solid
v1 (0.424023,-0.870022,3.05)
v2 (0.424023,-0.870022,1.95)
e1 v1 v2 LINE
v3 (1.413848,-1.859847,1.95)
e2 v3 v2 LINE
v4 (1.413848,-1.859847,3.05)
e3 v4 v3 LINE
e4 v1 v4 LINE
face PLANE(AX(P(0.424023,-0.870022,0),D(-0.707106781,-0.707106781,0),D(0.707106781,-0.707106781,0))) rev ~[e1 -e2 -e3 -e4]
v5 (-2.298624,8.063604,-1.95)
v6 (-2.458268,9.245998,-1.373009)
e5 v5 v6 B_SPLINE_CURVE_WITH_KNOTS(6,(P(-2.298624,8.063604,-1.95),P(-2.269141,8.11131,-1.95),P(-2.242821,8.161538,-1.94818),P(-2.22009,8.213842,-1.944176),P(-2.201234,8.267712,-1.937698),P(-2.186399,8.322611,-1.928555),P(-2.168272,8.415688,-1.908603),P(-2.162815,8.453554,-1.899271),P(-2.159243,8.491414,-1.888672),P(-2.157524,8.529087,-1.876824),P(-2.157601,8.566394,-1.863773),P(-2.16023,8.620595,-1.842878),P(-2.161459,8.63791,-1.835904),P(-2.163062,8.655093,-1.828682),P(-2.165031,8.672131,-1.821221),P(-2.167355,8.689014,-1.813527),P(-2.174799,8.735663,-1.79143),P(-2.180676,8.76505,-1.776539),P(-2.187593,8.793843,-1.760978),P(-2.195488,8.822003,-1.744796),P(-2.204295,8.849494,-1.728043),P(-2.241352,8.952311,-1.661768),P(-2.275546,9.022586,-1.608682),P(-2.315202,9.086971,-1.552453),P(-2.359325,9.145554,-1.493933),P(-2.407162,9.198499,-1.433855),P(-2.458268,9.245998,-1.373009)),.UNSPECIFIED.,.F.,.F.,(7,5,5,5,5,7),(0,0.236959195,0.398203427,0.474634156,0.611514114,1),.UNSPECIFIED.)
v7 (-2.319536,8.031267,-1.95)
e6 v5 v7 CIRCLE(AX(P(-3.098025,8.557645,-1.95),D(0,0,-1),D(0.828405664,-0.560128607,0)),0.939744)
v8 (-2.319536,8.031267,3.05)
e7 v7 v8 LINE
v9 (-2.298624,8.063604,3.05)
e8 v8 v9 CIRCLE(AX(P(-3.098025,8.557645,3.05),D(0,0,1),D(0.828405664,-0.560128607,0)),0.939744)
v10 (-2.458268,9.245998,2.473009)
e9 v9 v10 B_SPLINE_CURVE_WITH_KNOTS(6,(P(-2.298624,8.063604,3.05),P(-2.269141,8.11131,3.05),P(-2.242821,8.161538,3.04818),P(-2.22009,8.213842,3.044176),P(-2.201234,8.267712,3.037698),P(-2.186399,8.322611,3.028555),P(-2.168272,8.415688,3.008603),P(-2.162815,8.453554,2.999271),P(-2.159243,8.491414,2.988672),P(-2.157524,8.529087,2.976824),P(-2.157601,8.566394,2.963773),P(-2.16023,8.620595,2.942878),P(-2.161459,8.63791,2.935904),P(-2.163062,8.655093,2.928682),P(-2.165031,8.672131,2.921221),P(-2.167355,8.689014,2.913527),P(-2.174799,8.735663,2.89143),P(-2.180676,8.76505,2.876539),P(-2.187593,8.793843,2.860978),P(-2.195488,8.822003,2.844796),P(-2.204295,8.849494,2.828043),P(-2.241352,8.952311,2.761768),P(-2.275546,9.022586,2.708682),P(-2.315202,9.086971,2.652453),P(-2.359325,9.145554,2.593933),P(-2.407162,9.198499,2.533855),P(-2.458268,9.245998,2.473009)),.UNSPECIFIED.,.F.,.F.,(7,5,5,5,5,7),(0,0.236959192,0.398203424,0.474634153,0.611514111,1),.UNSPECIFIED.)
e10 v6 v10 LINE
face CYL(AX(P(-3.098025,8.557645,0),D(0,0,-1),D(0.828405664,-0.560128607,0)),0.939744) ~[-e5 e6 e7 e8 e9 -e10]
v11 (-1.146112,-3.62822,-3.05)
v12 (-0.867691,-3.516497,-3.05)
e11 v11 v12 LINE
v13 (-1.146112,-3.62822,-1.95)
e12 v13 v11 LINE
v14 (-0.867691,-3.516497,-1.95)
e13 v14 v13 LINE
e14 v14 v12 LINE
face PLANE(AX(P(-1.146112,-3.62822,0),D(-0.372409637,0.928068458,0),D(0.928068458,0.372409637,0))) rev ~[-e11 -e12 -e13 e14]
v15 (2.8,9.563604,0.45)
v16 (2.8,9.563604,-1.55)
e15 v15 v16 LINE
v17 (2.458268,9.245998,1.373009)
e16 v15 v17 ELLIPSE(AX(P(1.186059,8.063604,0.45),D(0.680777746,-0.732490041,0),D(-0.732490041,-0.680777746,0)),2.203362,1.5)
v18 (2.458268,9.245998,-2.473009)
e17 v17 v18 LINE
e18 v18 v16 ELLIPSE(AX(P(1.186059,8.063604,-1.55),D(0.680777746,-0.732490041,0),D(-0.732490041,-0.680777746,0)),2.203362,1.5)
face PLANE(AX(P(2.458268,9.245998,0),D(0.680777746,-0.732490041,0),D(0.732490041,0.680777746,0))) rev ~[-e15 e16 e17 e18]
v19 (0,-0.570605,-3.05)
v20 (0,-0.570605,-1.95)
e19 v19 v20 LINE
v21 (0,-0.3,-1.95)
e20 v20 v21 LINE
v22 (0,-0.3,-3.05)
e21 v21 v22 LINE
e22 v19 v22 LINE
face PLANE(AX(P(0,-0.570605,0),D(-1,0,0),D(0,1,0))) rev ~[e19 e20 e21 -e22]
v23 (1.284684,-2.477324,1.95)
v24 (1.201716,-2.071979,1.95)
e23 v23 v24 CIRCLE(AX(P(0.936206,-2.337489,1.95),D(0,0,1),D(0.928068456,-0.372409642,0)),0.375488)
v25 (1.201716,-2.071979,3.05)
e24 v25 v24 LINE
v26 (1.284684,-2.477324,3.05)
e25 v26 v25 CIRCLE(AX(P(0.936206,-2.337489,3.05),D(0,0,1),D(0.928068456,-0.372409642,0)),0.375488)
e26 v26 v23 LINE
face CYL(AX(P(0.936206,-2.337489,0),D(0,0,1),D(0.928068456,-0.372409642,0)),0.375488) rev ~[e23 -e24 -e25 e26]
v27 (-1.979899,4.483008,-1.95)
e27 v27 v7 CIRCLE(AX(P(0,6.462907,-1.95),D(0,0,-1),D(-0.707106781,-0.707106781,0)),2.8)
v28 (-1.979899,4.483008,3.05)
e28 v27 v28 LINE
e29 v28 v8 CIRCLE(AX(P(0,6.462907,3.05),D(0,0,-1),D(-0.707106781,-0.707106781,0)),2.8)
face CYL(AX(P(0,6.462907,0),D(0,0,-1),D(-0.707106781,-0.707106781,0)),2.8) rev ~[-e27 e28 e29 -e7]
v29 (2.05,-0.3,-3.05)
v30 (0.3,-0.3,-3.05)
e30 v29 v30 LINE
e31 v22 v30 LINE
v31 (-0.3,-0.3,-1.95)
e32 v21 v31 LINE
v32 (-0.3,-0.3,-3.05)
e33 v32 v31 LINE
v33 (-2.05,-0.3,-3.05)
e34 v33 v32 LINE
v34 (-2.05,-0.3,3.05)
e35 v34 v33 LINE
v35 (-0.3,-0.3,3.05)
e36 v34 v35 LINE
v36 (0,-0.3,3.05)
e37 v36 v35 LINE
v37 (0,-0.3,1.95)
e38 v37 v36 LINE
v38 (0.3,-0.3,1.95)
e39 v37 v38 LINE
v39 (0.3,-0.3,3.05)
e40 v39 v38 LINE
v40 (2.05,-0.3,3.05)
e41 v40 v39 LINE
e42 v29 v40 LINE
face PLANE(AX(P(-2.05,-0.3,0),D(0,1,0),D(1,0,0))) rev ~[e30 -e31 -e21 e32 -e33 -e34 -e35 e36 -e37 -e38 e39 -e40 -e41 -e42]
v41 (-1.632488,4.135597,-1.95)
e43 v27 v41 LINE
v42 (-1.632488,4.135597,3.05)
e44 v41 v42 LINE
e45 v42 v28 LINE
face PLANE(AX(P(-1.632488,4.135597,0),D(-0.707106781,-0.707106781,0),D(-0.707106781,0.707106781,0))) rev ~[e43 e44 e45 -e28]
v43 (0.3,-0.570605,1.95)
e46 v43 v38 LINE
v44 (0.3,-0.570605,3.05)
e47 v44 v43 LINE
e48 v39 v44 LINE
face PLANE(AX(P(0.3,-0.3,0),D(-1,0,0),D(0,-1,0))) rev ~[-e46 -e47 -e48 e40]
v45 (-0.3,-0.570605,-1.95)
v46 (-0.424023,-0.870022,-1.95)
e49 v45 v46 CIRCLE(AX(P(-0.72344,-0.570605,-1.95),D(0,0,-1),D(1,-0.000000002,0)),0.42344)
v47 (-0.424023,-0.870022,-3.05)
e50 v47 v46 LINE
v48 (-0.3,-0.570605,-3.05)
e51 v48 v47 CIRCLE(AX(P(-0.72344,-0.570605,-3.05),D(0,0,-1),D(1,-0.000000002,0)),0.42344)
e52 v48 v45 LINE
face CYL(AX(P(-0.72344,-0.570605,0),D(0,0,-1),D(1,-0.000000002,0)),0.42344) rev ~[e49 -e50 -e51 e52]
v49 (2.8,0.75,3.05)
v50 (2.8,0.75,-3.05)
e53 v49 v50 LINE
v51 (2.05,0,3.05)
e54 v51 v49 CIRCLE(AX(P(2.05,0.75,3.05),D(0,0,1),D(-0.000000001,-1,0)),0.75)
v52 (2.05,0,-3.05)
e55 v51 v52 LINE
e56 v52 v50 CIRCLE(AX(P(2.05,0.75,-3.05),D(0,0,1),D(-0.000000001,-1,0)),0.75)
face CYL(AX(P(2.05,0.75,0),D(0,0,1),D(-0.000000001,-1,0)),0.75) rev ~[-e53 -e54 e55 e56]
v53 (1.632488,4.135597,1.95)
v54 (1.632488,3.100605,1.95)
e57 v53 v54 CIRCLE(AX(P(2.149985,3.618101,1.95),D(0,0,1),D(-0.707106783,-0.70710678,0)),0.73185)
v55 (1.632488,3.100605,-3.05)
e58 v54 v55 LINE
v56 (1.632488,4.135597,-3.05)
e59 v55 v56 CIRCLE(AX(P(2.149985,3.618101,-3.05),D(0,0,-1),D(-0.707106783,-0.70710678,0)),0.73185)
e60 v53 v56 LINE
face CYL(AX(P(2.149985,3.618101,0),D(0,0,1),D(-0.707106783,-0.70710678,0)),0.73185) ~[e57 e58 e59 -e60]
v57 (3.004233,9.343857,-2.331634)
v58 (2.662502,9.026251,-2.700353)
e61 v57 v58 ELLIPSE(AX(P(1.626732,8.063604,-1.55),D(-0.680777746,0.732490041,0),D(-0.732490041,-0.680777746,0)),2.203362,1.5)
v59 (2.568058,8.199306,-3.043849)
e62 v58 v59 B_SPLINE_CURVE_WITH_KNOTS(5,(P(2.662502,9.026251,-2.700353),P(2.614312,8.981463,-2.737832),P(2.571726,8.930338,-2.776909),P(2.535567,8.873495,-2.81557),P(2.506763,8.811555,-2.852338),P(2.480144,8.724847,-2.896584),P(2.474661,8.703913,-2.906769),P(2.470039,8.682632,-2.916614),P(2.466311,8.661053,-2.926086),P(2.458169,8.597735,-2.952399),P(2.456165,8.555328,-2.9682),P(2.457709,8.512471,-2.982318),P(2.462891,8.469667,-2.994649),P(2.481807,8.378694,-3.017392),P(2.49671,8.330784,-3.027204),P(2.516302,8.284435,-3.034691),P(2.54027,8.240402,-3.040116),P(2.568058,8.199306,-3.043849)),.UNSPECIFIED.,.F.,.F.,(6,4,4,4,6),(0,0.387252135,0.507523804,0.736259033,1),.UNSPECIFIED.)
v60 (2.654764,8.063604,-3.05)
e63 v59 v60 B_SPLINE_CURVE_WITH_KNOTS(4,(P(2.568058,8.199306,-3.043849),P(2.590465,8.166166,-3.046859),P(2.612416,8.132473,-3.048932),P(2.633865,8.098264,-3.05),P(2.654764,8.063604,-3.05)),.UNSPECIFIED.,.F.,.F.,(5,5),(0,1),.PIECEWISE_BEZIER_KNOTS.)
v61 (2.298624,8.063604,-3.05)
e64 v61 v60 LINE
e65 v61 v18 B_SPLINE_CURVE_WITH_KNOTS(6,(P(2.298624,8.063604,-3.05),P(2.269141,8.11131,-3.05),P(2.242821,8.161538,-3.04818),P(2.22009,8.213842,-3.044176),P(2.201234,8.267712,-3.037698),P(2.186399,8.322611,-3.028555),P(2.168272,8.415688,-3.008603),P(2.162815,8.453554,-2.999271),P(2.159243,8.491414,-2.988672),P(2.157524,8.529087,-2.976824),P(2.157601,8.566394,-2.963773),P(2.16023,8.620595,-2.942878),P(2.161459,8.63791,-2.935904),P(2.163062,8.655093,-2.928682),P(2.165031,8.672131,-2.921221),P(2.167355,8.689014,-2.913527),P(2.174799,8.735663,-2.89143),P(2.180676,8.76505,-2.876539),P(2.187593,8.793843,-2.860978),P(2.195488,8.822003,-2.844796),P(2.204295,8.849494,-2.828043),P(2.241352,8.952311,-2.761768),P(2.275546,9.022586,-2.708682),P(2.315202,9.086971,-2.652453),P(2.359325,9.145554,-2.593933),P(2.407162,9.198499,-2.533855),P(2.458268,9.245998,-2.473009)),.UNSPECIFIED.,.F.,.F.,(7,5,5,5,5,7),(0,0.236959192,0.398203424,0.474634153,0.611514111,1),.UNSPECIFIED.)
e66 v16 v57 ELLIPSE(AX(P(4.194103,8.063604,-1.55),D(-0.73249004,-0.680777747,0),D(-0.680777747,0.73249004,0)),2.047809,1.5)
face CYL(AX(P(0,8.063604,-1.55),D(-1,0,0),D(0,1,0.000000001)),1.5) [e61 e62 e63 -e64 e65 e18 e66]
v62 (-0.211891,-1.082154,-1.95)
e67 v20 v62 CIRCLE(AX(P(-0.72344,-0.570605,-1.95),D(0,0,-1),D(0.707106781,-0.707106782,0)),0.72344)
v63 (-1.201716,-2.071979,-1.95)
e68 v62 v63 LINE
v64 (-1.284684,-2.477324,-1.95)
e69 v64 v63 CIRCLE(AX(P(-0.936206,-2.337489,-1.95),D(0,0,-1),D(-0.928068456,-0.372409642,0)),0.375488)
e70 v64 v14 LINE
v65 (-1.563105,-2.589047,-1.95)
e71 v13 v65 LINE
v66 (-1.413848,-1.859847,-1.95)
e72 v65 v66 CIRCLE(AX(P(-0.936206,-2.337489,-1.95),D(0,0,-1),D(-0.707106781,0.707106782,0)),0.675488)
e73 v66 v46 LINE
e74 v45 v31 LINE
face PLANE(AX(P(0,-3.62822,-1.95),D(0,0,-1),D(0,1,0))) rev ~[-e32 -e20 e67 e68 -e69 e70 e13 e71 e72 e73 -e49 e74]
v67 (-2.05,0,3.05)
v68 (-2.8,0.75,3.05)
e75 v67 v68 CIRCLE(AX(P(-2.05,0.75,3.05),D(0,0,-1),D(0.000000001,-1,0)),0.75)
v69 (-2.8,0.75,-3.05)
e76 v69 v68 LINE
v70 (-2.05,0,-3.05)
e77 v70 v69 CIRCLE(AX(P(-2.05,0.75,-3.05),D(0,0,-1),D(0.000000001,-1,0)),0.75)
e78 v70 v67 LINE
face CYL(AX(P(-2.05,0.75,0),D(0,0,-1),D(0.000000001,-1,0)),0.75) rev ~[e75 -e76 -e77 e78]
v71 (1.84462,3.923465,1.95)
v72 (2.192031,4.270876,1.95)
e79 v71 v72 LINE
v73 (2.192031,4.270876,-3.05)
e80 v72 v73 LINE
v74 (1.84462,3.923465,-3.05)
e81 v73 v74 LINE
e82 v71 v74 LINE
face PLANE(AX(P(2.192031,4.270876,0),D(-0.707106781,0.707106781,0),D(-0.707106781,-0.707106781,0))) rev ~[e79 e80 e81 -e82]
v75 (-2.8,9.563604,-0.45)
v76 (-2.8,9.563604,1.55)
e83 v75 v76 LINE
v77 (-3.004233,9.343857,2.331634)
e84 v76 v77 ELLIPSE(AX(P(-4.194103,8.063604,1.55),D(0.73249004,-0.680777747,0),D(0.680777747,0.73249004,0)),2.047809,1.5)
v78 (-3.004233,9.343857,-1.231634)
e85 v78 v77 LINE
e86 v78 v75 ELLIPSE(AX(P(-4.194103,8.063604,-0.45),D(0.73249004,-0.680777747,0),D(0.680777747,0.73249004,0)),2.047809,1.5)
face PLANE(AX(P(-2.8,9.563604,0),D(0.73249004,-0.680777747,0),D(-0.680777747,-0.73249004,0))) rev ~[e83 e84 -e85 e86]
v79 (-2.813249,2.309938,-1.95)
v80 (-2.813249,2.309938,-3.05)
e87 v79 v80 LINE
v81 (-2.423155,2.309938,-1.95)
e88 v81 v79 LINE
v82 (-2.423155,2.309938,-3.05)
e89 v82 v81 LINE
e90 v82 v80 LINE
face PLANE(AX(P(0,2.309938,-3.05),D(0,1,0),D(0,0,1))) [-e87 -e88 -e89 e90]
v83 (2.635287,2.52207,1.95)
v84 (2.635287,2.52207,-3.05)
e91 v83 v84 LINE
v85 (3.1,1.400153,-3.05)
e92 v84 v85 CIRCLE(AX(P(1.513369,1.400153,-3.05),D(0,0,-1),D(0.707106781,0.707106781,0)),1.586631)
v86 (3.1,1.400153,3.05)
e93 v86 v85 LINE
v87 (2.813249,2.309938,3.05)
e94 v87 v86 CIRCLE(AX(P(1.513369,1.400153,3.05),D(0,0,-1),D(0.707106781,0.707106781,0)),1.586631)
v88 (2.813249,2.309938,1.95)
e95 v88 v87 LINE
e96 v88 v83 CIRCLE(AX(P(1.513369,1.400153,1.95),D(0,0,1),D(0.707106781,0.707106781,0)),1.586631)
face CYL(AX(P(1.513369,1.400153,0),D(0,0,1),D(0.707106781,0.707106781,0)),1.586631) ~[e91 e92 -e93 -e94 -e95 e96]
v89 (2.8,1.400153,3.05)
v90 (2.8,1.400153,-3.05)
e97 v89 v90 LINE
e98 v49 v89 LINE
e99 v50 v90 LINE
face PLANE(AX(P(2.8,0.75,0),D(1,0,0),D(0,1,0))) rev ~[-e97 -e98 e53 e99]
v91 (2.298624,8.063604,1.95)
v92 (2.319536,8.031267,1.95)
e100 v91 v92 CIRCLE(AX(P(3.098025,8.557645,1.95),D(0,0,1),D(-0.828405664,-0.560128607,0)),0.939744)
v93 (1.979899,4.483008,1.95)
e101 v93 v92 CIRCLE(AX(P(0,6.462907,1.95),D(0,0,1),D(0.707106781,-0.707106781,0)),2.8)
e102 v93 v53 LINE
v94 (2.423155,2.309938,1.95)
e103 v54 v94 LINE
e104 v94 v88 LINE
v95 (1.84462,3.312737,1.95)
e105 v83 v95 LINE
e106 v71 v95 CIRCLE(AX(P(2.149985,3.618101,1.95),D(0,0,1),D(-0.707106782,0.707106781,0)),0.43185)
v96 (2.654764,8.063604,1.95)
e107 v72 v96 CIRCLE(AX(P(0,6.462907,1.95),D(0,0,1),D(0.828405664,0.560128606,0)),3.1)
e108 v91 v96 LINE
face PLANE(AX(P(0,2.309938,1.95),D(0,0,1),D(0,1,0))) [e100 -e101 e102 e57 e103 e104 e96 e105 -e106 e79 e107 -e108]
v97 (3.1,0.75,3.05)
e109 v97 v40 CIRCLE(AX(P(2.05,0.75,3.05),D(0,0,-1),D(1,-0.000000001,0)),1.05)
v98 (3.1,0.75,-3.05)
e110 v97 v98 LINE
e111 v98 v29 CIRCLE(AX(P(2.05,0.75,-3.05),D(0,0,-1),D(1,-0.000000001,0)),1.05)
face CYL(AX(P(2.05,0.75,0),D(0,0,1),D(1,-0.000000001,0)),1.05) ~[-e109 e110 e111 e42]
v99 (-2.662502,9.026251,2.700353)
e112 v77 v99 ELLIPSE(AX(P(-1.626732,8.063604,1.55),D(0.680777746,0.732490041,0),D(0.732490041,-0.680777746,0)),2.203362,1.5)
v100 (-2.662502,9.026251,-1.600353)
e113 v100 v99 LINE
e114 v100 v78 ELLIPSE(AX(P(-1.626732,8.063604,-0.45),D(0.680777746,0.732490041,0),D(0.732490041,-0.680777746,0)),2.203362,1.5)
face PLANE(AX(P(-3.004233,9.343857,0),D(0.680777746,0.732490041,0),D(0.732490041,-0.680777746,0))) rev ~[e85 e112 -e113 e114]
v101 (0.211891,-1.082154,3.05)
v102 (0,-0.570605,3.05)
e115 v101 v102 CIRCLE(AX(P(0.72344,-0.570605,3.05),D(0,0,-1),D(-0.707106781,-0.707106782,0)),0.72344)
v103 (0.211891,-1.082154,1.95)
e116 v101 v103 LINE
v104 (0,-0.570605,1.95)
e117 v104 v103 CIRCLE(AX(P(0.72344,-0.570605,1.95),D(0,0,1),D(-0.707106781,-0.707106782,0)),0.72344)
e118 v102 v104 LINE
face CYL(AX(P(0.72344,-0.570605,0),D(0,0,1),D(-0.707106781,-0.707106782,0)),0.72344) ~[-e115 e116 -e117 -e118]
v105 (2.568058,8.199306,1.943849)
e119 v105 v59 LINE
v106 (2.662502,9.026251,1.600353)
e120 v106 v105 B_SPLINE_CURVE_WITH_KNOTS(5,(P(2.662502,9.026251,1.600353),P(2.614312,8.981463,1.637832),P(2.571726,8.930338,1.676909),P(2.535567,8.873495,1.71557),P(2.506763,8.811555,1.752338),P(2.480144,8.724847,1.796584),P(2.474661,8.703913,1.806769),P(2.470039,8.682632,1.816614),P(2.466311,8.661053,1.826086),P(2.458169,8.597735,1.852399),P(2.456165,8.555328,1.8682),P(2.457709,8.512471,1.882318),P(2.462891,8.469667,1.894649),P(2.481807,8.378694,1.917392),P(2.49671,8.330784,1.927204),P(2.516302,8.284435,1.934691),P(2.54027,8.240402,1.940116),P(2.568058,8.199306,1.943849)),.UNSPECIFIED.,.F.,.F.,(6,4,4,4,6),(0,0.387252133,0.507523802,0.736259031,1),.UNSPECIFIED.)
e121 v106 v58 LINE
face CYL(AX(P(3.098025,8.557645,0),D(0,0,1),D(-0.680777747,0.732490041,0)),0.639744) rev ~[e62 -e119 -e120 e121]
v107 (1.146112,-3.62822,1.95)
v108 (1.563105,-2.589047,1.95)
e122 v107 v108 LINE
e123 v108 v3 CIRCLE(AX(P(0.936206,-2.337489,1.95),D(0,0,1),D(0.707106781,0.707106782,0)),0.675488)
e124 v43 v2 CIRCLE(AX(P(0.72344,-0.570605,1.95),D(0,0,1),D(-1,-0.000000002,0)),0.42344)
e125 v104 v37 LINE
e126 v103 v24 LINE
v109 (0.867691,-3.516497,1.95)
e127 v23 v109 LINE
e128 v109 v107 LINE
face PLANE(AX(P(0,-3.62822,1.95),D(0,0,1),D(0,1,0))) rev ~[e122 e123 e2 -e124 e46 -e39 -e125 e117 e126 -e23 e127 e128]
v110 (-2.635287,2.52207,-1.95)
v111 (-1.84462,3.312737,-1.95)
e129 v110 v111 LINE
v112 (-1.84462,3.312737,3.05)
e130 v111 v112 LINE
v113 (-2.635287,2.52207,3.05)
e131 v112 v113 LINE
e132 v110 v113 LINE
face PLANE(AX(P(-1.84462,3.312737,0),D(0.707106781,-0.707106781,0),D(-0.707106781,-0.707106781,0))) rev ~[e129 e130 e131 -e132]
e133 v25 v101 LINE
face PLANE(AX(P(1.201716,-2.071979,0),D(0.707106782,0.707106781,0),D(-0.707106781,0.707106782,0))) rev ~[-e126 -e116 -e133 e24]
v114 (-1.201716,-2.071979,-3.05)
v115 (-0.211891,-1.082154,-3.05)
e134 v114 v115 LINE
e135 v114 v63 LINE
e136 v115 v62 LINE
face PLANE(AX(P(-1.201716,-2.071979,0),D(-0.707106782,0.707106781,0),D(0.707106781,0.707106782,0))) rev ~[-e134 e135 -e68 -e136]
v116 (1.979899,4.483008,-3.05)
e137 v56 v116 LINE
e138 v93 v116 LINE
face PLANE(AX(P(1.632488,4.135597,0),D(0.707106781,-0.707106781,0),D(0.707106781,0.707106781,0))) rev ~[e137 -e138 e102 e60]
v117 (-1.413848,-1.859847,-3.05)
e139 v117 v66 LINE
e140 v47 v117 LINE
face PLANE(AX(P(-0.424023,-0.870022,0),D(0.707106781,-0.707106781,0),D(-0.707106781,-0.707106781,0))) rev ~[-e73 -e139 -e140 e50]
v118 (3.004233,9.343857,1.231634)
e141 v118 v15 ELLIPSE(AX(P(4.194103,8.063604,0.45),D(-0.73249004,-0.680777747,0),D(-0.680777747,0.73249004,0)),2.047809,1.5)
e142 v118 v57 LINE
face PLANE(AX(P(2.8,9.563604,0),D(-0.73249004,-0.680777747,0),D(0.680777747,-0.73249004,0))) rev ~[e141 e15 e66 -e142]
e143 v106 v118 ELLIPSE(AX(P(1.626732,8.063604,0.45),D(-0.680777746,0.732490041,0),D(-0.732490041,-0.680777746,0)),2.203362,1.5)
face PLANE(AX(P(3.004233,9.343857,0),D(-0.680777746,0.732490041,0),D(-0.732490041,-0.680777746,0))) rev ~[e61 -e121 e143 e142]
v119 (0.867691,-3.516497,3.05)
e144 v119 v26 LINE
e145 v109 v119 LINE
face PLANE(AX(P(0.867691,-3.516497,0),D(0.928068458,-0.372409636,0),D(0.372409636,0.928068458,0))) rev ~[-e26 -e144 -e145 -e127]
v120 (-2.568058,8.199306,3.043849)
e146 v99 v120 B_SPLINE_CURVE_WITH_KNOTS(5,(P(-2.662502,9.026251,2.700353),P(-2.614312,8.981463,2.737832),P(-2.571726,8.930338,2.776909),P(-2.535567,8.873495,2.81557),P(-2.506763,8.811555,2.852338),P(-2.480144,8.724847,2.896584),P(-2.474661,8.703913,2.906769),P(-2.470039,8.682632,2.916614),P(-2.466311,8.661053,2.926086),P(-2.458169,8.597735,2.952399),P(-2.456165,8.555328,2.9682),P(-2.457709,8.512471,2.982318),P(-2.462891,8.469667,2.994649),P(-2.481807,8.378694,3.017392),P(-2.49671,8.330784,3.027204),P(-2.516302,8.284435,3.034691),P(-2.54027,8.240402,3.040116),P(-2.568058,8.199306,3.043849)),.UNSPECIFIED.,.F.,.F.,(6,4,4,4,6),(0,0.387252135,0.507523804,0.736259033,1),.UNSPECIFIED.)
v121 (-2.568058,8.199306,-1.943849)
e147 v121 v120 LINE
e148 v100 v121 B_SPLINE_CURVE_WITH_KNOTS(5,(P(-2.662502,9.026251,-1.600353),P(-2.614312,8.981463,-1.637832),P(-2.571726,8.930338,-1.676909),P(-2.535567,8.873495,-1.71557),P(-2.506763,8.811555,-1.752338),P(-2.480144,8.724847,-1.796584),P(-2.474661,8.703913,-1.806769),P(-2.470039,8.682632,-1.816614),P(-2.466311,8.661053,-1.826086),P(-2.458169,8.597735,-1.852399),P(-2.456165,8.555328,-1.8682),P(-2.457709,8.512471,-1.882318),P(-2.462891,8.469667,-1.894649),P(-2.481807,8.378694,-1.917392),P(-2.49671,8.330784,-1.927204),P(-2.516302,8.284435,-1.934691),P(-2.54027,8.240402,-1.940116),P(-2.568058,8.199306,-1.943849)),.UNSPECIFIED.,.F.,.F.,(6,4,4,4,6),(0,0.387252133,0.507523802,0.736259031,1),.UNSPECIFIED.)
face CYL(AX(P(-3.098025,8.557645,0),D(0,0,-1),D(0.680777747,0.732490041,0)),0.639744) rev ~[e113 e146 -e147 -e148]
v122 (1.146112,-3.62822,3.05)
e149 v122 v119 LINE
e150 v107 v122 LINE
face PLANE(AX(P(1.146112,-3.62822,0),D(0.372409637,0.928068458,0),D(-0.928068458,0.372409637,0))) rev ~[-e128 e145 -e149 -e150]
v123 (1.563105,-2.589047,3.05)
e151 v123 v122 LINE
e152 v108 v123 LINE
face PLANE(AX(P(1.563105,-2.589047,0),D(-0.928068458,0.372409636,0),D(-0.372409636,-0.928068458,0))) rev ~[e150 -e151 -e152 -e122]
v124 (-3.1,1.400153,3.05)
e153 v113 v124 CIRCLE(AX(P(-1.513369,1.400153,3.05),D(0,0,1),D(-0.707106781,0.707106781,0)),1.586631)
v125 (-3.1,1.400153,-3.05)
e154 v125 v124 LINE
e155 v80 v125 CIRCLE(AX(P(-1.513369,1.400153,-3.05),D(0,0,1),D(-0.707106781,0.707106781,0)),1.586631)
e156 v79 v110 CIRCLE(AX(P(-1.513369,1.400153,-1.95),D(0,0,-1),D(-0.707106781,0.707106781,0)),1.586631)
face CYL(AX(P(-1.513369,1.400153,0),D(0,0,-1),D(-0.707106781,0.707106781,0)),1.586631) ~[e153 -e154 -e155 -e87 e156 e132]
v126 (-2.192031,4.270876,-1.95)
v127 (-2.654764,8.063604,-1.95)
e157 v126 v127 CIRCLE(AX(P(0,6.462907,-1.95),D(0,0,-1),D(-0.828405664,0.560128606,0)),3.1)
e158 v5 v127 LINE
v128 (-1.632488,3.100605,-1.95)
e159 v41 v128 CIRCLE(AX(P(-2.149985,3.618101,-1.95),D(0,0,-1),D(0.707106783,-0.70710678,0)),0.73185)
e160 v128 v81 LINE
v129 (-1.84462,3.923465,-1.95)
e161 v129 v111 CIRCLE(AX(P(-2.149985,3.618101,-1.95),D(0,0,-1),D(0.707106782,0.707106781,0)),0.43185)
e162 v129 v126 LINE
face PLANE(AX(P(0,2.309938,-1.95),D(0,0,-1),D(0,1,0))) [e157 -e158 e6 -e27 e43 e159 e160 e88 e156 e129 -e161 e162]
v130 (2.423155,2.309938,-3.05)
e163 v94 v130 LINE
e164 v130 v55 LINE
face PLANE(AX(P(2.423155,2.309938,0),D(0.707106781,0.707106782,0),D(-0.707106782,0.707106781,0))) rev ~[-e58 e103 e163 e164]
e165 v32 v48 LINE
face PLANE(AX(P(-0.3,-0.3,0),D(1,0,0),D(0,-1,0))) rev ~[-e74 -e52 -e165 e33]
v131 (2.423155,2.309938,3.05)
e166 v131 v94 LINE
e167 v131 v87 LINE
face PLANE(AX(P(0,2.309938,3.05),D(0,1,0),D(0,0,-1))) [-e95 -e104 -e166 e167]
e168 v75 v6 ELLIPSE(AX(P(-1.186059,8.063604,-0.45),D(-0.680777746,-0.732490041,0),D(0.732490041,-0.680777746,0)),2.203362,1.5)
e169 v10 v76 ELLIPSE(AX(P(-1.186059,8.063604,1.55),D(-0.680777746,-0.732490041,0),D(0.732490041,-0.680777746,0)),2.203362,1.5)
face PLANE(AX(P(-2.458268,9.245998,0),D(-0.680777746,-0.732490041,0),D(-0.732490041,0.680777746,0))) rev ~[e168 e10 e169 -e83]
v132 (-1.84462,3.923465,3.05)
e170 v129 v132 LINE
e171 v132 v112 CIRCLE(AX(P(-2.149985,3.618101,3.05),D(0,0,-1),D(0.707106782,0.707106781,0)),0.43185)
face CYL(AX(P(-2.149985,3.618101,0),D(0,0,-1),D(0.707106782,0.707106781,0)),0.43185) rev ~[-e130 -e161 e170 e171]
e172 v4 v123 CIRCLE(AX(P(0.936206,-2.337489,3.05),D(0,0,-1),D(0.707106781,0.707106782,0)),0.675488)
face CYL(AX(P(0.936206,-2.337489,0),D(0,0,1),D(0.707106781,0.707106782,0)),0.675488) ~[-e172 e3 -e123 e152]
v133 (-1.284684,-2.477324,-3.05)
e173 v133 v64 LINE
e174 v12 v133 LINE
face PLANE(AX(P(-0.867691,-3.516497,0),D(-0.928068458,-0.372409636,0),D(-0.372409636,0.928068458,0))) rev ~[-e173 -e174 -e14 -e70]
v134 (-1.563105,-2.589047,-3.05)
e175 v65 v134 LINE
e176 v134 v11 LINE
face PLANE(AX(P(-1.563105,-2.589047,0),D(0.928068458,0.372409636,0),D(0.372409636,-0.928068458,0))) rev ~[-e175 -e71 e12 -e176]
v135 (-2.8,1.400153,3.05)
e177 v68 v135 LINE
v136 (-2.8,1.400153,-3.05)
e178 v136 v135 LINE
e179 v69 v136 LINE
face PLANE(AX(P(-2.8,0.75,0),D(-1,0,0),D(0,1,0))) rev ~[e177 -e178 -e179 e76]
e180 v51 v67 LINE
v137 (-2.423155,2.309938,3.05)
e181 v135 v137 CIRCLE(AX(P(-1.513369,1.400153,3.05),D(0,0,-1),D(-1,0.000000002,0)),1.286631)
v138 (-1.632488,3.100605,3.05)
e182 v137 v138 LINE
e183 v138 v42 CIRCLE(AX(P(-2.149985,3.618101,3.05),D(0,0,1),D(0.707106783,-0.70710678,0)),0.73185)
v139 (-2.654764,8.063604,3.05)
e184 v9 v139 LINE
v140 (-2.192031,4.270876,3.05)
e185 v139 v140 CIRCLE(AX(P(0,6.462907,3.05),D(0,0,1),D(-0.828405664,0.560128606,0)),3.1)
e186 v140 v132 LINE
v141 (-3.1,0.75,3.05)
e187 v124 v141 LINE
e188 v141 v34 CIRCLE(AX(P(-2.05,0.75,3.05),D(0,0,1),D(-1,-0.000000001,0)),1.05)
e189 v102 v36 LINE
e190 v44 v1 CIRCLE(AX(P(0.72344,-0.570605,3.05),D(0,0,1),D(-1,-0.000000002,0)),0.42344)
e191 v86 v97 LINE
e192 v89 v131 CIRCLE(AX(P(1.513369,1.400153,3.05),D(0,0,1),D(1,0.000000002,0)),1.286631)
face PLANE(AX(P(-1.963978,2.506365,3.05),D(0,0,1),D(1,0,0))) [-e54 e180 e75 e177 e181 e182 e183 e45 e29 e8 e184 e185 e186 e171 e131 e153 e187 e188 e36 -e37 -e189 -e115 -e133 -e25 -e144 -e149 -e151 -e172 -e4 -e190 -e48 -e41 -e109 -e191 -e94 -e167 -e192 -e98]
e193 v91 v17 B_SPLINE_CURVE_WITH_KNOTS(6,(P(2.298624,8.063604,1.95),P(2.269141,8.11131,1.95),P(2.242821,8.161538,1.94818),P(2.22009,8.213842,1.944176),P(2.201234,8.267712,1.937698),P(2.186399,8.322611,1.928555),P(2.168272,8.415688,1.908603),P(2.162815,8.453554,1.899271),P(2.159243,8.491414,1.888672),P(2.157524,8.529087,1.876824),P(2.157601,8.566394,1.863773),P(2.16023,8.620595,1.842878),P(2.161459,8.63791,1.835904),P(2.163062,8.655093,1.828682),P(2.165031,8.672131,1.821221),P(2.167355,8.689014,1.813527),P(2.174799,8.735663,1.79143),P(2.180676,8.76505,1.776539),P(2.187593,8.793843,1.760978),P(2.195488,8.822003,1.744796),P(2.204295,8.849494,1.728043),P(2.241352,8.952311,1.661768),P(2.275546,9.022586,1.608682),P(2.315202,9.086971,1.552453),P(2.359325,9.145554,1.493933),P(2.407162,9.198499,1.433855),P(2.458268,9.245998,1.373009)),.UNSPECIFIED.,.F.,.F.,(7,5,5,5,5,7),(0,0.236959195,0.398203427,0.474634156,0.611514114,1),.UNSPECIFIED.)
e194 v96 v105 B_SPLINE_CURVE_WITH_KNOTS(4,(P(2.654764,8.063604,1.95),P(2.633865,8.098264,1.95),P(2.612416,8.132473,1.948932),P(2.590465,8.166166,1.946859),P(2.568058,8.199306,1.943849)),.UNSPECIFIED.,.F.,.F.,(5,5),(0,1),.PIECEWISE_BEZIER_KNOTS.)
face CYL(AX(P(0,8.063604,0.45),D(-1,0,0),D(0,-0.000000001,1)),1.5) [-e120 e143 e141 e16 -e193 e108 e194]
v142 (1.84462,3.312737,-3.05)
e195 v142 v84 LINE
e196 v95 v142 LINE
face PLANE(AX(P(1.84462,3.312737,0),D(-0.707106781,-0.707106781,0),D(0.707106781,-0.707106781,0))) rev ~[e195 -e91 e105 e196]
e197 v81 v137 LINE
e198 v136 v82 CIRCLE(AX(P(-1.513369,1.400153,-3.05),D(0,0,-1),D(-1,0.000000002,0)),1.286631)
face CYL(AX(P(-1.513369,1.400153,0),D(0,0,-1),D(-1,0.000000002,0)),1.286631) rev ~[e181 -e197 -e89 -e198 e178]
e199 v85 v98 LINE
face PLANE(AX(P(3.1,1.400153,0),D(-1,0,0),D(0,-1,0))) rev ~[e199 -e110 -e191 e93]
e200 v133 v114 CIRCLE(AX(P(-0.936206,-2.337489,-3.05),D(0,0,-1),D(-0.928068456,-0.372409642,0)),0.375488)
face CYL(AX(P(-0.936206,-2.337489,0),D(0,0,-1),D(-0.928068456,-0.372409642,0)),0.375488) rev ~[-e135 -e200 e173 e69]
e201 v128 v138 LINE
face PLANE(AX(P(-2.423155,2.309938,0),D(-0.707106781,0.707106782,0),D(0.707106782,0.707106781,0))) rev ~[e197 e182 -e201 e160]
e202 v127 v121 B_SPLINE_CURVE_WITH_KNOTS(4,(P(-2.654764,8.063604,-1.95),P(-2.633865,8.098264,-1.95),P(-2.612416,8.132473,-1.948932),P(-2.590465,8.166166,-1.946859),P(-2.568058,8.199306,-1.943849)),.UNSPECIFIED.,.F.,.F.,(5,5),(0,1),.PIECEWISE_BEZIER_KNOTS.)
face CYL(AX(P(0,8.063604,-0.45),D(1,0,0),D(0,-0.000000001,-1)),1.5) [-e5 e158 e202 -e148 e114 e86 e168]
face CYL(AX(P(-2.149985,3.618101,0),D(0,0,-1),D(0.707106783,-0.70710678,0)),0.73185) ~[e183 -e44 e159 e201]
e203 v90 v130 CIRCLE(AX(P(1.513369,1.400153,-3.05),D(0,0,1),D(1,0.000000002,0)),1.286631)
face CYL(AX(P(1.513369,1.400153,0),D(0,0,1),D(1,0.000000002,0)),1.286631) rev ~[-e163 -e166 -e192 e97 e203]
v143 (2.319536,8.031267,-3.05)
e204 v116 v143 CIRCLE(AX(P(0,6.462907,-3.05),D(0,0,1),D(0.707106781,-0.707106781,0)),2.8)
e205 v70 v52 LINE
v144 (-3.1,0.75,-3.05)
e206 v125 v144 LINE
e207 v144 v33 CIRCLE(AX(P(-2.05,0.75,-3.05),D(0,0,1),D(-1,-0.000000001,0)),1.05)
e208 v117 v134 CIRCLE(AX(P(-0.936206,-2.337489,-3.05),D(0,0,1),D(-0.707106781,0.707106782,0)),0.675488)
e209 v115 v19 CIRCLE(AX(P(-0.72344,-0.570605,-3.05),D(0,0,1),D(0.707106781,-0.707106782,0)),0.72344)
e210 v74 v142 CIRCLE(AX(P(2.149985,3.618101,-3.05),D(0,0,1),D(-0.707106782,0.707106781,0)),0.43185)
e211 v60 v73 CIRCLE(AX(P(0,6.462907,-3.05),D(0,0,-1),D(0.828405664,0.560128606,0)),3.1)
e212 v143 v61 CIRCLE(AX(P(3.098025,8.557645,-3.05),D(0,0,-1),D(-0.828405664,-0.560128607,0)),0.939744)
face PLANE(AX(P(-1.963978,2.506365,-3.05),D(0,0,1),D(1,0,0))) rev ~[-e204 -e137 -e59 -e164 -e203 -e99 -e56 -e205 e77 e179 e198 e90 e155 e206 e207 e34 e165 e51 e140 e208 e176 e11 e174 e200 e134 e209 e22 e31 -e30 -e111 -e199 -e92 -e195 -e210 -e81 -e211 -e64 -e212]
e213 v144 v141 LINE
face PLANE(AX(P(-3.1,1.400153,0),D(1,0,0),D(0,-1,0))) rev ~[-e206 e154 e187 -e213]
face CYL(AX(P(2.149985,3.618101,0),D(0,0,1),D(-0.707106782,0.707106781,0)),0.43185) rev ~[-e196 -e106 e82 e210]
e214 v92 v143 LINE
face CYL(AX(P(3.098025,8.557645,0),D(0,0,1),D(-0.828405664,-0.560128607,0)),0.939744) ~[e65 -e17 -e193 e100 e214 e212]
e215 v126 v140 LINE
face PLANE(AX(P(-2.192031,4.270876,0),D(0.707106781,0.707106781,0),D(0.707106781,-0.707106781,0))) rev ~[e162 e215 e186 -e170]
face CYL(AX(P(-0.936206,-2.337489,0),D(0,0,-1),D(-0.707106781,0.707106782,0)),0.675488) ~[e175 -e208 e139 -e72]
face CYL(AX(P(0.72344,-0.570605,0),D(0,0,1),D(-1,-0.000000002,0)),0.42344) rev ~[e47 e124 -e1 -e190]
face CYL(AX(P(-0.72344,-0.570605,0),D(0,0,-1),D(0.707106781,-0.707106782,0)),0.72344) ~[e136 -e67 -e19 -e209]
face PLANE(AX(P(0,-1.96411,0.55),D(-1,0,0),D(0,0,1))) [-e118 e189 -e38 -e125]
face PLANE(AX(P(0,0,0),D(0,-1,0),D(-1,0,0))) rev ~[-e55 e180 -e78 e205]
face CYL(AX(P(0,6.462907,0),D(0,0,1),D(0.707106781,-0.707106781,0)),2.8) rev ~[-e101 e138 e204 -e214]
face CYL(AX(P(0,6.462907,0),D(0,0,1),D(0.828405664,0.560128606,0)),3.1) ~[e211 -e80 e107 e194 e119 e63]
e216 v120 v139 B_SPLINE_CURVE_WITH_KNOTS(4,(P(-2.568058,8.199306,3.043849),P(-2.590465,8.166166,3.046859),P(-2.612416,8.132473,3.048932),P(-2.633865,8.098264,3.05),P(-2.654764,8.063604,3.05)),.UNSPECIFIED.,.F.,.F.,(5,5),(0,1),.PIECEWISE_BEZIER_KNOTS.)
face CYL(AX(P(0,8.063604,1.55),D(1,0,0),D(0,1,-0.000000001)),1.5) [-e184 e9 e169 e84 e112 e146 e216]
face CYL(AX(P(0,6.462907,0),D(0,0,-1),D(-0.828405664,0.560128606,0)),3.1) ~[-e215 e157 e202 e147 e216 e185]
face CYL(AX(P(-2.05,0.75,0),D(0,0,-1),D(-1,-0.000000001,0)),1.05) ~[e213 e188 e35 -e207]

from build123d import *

# Parameters (mm, degrees)
EXTRU_MINCE1_DEPTH           = 3.05
ESQUISSE3_W                  = 5
ESQUISSE3_H                  = 3.328220353
ENL_V_MAT_EXTRU_1_DEPTH      = 10
R_P_TITION_CIRCULAIRE1_COUNT = 2


with BuildPart() as part:
    # Esquisse2 → Extru.-Mince1 (new, symmetric)
    with BuildSketch(Plane.XY):
        with BuildLine():
            Line((0.867691044, -3.516497462), (1.284684178, -2.477324095))
            ThreePointArc((1.284684178, -2.477324095), (1.304066655, -2.262192987), (1.201715788, -2.071978966))
            Line((1.201715788, -2.071978966), (0.211890589, -1.082153766))
            ThreePointArc((0.211890589, -1.082153766), (0.05506857, -0.847453029), (0, -0.570604633))
            Line((0, -0.570604633), (0, 0))
            Line((0, 0), (2.05, 0))
            ThreePointArc((2.05, 0), (2.580330086, 0.219669914), (2.8, 0.75))
            Line((2.8, 0.75), (2.8, 1.400152821))
            ThreePointArc((2.8, 1.400152821), (2.702061046, 1.892525191), (2.423154503, 2.309938332))
            Line((2.423154503, 2.309938332), (1.63248823, 3.100604604))
            ThreePointArc((1.63248823, 3.100604604), (1.418134189, 3.618101038), (1.63248823, 4.135597473))
            Line((1.63248823, 4.135597473), (1.979898987, 4.48300823))
            ThreePointArc((1.979898987, 4.48300823), (2.787260417, 6.196112604), (2.31953586, 8.031267314))
            ThreePointArc((2.31953586, 8.031267314), (2.164350637, 8.664278157), (2.458268281, 9.245997676))
            Line((2.458268281, 9.245997676), (2.8, 9.563603836))
            Line((2.8, 9.563603836), (3.004233324, 9.343856824))
            Line((3.004233324, 9.343856824), (2.662501605, 9.026250664))
            ThreePointArc((2.662501605, 9.026250664), (2.462413038, 8.630236925), (2.568057559, 8.199305896))
            ThreePointArc((2.568057559, 8.199305896), (3.085895462, 6.167527467), (2.192031022, 4.270876196))
            Line((2.192031022, 4.270876196), (1.844620265, 3.923465439))
            ThreePointArc((1.844620265, 3.923465439), (1.718134189, 3.618101038), (1.844620265, 3.312736638))
            Line((1.844620265, 3.312736638), (2.635286537, 2.522070366))
            ThreePointArc((2.635286537, 2.522070366), (2.979224906, 2.007330221), (3.1, 1.400152821))
            Line((3.1, 1.400152821), (3.1, 0.75))
            ThreePointArc((3.1, 0.75), (2.79246212, 0.00753788), (2.05, -0.3))
            Line((2.05, -0.3), (0.3, -0.3))
            Line((0.3, -0.3), (0.3, -0.570604633))
            ThreePointArc((0.3, -0.570604633), (0.33223243, -0.732648), (0.424022623, -0.870021732))
            Line((0.424022623, -0.870021732), (1.413847823, -1.859846932))
            ThreePointArc((1.413847823, -1.859846932), (1.597973034, -2.202034526), (1.563104716, -2.589046986))
            Line((1.563104716, -2.589046986), (1.146111581, -3.628220353))
            Line((1.146111581, -3.628220353), (0.867691044, -3.516497462))
        make_face()
    extru_mince1 = extrude(amount=EXTRU_MINCE1_DEPTH, both=True)

    # Esquisse3 → Enlèv. mat.-Extru.1 (cut)
    with BuildSketch(Plane(origin=(0, 0, 0), x_dir=(0, 0, -1), z_dir=(1, 0, 0))):
        with Locations((0.55, -1.964110177)):
            Rectangle(ESQUISSE3_W, ESQUISSE3_H)
        with BuildLine():
            Line((3.05, 9.563603836), (1.55, 9.563603836))
            ThreePointArc((1.55, 9.563603836), (2.610660172, 9.124264008), (3.05, 8.063603836))
            Line((3.05, 8.063603836), (3.05, 9.563603836))
        make_face()
        with BuildLine():
            Line((-0.45, 9.563603836), (-3.05, 9.563603836))
            Line((-3.05, 9.563603836), (-3.05, 2.309938332))
            Line((-3.05, 2.309938332), (-1.95, 2.309938332))
            Line((-1.95, 2.309938332), (-1.95, 8.063603836))
            ThreePointArc((-1.95, 8.063603836), (-1.510660172, 9.124264008), (-0.45, 9.563603836))
        make_face()
    enl_v_mat_extru_1 = extrude(amount=ENL_V_MAT_EXTRU_1_DEPTH, mode=Mode.SUBTRACT)

    # Répétition circulaire1: Extru.-Mince1, Enlèv. mat.-Extru.1 ×2 about axis
    r_p_tition_circulaire1_axis = Axis((0, -4.287811562, 0), (0, 1, 0))
    add([extru_mince1.rotate(r_p_tition_circulaire1_axis, i * 360 / R_P_TITION_CIRCULAIRE1_COUNT) for i in range(1, R_P_TITION_CIRCULAIRE1_COUNT)])
    add([enl_v_mat_extru_1.rotate(r_p_tition_circulaire1_axis, i * 360 / R_P_TITION_CIRCULAIRE1_COUNT) for i in range(1, R_P_TITION_CIRCULAIRE1_COUNT)], mode=Mode.SUBTRACT)


solid = part.part
